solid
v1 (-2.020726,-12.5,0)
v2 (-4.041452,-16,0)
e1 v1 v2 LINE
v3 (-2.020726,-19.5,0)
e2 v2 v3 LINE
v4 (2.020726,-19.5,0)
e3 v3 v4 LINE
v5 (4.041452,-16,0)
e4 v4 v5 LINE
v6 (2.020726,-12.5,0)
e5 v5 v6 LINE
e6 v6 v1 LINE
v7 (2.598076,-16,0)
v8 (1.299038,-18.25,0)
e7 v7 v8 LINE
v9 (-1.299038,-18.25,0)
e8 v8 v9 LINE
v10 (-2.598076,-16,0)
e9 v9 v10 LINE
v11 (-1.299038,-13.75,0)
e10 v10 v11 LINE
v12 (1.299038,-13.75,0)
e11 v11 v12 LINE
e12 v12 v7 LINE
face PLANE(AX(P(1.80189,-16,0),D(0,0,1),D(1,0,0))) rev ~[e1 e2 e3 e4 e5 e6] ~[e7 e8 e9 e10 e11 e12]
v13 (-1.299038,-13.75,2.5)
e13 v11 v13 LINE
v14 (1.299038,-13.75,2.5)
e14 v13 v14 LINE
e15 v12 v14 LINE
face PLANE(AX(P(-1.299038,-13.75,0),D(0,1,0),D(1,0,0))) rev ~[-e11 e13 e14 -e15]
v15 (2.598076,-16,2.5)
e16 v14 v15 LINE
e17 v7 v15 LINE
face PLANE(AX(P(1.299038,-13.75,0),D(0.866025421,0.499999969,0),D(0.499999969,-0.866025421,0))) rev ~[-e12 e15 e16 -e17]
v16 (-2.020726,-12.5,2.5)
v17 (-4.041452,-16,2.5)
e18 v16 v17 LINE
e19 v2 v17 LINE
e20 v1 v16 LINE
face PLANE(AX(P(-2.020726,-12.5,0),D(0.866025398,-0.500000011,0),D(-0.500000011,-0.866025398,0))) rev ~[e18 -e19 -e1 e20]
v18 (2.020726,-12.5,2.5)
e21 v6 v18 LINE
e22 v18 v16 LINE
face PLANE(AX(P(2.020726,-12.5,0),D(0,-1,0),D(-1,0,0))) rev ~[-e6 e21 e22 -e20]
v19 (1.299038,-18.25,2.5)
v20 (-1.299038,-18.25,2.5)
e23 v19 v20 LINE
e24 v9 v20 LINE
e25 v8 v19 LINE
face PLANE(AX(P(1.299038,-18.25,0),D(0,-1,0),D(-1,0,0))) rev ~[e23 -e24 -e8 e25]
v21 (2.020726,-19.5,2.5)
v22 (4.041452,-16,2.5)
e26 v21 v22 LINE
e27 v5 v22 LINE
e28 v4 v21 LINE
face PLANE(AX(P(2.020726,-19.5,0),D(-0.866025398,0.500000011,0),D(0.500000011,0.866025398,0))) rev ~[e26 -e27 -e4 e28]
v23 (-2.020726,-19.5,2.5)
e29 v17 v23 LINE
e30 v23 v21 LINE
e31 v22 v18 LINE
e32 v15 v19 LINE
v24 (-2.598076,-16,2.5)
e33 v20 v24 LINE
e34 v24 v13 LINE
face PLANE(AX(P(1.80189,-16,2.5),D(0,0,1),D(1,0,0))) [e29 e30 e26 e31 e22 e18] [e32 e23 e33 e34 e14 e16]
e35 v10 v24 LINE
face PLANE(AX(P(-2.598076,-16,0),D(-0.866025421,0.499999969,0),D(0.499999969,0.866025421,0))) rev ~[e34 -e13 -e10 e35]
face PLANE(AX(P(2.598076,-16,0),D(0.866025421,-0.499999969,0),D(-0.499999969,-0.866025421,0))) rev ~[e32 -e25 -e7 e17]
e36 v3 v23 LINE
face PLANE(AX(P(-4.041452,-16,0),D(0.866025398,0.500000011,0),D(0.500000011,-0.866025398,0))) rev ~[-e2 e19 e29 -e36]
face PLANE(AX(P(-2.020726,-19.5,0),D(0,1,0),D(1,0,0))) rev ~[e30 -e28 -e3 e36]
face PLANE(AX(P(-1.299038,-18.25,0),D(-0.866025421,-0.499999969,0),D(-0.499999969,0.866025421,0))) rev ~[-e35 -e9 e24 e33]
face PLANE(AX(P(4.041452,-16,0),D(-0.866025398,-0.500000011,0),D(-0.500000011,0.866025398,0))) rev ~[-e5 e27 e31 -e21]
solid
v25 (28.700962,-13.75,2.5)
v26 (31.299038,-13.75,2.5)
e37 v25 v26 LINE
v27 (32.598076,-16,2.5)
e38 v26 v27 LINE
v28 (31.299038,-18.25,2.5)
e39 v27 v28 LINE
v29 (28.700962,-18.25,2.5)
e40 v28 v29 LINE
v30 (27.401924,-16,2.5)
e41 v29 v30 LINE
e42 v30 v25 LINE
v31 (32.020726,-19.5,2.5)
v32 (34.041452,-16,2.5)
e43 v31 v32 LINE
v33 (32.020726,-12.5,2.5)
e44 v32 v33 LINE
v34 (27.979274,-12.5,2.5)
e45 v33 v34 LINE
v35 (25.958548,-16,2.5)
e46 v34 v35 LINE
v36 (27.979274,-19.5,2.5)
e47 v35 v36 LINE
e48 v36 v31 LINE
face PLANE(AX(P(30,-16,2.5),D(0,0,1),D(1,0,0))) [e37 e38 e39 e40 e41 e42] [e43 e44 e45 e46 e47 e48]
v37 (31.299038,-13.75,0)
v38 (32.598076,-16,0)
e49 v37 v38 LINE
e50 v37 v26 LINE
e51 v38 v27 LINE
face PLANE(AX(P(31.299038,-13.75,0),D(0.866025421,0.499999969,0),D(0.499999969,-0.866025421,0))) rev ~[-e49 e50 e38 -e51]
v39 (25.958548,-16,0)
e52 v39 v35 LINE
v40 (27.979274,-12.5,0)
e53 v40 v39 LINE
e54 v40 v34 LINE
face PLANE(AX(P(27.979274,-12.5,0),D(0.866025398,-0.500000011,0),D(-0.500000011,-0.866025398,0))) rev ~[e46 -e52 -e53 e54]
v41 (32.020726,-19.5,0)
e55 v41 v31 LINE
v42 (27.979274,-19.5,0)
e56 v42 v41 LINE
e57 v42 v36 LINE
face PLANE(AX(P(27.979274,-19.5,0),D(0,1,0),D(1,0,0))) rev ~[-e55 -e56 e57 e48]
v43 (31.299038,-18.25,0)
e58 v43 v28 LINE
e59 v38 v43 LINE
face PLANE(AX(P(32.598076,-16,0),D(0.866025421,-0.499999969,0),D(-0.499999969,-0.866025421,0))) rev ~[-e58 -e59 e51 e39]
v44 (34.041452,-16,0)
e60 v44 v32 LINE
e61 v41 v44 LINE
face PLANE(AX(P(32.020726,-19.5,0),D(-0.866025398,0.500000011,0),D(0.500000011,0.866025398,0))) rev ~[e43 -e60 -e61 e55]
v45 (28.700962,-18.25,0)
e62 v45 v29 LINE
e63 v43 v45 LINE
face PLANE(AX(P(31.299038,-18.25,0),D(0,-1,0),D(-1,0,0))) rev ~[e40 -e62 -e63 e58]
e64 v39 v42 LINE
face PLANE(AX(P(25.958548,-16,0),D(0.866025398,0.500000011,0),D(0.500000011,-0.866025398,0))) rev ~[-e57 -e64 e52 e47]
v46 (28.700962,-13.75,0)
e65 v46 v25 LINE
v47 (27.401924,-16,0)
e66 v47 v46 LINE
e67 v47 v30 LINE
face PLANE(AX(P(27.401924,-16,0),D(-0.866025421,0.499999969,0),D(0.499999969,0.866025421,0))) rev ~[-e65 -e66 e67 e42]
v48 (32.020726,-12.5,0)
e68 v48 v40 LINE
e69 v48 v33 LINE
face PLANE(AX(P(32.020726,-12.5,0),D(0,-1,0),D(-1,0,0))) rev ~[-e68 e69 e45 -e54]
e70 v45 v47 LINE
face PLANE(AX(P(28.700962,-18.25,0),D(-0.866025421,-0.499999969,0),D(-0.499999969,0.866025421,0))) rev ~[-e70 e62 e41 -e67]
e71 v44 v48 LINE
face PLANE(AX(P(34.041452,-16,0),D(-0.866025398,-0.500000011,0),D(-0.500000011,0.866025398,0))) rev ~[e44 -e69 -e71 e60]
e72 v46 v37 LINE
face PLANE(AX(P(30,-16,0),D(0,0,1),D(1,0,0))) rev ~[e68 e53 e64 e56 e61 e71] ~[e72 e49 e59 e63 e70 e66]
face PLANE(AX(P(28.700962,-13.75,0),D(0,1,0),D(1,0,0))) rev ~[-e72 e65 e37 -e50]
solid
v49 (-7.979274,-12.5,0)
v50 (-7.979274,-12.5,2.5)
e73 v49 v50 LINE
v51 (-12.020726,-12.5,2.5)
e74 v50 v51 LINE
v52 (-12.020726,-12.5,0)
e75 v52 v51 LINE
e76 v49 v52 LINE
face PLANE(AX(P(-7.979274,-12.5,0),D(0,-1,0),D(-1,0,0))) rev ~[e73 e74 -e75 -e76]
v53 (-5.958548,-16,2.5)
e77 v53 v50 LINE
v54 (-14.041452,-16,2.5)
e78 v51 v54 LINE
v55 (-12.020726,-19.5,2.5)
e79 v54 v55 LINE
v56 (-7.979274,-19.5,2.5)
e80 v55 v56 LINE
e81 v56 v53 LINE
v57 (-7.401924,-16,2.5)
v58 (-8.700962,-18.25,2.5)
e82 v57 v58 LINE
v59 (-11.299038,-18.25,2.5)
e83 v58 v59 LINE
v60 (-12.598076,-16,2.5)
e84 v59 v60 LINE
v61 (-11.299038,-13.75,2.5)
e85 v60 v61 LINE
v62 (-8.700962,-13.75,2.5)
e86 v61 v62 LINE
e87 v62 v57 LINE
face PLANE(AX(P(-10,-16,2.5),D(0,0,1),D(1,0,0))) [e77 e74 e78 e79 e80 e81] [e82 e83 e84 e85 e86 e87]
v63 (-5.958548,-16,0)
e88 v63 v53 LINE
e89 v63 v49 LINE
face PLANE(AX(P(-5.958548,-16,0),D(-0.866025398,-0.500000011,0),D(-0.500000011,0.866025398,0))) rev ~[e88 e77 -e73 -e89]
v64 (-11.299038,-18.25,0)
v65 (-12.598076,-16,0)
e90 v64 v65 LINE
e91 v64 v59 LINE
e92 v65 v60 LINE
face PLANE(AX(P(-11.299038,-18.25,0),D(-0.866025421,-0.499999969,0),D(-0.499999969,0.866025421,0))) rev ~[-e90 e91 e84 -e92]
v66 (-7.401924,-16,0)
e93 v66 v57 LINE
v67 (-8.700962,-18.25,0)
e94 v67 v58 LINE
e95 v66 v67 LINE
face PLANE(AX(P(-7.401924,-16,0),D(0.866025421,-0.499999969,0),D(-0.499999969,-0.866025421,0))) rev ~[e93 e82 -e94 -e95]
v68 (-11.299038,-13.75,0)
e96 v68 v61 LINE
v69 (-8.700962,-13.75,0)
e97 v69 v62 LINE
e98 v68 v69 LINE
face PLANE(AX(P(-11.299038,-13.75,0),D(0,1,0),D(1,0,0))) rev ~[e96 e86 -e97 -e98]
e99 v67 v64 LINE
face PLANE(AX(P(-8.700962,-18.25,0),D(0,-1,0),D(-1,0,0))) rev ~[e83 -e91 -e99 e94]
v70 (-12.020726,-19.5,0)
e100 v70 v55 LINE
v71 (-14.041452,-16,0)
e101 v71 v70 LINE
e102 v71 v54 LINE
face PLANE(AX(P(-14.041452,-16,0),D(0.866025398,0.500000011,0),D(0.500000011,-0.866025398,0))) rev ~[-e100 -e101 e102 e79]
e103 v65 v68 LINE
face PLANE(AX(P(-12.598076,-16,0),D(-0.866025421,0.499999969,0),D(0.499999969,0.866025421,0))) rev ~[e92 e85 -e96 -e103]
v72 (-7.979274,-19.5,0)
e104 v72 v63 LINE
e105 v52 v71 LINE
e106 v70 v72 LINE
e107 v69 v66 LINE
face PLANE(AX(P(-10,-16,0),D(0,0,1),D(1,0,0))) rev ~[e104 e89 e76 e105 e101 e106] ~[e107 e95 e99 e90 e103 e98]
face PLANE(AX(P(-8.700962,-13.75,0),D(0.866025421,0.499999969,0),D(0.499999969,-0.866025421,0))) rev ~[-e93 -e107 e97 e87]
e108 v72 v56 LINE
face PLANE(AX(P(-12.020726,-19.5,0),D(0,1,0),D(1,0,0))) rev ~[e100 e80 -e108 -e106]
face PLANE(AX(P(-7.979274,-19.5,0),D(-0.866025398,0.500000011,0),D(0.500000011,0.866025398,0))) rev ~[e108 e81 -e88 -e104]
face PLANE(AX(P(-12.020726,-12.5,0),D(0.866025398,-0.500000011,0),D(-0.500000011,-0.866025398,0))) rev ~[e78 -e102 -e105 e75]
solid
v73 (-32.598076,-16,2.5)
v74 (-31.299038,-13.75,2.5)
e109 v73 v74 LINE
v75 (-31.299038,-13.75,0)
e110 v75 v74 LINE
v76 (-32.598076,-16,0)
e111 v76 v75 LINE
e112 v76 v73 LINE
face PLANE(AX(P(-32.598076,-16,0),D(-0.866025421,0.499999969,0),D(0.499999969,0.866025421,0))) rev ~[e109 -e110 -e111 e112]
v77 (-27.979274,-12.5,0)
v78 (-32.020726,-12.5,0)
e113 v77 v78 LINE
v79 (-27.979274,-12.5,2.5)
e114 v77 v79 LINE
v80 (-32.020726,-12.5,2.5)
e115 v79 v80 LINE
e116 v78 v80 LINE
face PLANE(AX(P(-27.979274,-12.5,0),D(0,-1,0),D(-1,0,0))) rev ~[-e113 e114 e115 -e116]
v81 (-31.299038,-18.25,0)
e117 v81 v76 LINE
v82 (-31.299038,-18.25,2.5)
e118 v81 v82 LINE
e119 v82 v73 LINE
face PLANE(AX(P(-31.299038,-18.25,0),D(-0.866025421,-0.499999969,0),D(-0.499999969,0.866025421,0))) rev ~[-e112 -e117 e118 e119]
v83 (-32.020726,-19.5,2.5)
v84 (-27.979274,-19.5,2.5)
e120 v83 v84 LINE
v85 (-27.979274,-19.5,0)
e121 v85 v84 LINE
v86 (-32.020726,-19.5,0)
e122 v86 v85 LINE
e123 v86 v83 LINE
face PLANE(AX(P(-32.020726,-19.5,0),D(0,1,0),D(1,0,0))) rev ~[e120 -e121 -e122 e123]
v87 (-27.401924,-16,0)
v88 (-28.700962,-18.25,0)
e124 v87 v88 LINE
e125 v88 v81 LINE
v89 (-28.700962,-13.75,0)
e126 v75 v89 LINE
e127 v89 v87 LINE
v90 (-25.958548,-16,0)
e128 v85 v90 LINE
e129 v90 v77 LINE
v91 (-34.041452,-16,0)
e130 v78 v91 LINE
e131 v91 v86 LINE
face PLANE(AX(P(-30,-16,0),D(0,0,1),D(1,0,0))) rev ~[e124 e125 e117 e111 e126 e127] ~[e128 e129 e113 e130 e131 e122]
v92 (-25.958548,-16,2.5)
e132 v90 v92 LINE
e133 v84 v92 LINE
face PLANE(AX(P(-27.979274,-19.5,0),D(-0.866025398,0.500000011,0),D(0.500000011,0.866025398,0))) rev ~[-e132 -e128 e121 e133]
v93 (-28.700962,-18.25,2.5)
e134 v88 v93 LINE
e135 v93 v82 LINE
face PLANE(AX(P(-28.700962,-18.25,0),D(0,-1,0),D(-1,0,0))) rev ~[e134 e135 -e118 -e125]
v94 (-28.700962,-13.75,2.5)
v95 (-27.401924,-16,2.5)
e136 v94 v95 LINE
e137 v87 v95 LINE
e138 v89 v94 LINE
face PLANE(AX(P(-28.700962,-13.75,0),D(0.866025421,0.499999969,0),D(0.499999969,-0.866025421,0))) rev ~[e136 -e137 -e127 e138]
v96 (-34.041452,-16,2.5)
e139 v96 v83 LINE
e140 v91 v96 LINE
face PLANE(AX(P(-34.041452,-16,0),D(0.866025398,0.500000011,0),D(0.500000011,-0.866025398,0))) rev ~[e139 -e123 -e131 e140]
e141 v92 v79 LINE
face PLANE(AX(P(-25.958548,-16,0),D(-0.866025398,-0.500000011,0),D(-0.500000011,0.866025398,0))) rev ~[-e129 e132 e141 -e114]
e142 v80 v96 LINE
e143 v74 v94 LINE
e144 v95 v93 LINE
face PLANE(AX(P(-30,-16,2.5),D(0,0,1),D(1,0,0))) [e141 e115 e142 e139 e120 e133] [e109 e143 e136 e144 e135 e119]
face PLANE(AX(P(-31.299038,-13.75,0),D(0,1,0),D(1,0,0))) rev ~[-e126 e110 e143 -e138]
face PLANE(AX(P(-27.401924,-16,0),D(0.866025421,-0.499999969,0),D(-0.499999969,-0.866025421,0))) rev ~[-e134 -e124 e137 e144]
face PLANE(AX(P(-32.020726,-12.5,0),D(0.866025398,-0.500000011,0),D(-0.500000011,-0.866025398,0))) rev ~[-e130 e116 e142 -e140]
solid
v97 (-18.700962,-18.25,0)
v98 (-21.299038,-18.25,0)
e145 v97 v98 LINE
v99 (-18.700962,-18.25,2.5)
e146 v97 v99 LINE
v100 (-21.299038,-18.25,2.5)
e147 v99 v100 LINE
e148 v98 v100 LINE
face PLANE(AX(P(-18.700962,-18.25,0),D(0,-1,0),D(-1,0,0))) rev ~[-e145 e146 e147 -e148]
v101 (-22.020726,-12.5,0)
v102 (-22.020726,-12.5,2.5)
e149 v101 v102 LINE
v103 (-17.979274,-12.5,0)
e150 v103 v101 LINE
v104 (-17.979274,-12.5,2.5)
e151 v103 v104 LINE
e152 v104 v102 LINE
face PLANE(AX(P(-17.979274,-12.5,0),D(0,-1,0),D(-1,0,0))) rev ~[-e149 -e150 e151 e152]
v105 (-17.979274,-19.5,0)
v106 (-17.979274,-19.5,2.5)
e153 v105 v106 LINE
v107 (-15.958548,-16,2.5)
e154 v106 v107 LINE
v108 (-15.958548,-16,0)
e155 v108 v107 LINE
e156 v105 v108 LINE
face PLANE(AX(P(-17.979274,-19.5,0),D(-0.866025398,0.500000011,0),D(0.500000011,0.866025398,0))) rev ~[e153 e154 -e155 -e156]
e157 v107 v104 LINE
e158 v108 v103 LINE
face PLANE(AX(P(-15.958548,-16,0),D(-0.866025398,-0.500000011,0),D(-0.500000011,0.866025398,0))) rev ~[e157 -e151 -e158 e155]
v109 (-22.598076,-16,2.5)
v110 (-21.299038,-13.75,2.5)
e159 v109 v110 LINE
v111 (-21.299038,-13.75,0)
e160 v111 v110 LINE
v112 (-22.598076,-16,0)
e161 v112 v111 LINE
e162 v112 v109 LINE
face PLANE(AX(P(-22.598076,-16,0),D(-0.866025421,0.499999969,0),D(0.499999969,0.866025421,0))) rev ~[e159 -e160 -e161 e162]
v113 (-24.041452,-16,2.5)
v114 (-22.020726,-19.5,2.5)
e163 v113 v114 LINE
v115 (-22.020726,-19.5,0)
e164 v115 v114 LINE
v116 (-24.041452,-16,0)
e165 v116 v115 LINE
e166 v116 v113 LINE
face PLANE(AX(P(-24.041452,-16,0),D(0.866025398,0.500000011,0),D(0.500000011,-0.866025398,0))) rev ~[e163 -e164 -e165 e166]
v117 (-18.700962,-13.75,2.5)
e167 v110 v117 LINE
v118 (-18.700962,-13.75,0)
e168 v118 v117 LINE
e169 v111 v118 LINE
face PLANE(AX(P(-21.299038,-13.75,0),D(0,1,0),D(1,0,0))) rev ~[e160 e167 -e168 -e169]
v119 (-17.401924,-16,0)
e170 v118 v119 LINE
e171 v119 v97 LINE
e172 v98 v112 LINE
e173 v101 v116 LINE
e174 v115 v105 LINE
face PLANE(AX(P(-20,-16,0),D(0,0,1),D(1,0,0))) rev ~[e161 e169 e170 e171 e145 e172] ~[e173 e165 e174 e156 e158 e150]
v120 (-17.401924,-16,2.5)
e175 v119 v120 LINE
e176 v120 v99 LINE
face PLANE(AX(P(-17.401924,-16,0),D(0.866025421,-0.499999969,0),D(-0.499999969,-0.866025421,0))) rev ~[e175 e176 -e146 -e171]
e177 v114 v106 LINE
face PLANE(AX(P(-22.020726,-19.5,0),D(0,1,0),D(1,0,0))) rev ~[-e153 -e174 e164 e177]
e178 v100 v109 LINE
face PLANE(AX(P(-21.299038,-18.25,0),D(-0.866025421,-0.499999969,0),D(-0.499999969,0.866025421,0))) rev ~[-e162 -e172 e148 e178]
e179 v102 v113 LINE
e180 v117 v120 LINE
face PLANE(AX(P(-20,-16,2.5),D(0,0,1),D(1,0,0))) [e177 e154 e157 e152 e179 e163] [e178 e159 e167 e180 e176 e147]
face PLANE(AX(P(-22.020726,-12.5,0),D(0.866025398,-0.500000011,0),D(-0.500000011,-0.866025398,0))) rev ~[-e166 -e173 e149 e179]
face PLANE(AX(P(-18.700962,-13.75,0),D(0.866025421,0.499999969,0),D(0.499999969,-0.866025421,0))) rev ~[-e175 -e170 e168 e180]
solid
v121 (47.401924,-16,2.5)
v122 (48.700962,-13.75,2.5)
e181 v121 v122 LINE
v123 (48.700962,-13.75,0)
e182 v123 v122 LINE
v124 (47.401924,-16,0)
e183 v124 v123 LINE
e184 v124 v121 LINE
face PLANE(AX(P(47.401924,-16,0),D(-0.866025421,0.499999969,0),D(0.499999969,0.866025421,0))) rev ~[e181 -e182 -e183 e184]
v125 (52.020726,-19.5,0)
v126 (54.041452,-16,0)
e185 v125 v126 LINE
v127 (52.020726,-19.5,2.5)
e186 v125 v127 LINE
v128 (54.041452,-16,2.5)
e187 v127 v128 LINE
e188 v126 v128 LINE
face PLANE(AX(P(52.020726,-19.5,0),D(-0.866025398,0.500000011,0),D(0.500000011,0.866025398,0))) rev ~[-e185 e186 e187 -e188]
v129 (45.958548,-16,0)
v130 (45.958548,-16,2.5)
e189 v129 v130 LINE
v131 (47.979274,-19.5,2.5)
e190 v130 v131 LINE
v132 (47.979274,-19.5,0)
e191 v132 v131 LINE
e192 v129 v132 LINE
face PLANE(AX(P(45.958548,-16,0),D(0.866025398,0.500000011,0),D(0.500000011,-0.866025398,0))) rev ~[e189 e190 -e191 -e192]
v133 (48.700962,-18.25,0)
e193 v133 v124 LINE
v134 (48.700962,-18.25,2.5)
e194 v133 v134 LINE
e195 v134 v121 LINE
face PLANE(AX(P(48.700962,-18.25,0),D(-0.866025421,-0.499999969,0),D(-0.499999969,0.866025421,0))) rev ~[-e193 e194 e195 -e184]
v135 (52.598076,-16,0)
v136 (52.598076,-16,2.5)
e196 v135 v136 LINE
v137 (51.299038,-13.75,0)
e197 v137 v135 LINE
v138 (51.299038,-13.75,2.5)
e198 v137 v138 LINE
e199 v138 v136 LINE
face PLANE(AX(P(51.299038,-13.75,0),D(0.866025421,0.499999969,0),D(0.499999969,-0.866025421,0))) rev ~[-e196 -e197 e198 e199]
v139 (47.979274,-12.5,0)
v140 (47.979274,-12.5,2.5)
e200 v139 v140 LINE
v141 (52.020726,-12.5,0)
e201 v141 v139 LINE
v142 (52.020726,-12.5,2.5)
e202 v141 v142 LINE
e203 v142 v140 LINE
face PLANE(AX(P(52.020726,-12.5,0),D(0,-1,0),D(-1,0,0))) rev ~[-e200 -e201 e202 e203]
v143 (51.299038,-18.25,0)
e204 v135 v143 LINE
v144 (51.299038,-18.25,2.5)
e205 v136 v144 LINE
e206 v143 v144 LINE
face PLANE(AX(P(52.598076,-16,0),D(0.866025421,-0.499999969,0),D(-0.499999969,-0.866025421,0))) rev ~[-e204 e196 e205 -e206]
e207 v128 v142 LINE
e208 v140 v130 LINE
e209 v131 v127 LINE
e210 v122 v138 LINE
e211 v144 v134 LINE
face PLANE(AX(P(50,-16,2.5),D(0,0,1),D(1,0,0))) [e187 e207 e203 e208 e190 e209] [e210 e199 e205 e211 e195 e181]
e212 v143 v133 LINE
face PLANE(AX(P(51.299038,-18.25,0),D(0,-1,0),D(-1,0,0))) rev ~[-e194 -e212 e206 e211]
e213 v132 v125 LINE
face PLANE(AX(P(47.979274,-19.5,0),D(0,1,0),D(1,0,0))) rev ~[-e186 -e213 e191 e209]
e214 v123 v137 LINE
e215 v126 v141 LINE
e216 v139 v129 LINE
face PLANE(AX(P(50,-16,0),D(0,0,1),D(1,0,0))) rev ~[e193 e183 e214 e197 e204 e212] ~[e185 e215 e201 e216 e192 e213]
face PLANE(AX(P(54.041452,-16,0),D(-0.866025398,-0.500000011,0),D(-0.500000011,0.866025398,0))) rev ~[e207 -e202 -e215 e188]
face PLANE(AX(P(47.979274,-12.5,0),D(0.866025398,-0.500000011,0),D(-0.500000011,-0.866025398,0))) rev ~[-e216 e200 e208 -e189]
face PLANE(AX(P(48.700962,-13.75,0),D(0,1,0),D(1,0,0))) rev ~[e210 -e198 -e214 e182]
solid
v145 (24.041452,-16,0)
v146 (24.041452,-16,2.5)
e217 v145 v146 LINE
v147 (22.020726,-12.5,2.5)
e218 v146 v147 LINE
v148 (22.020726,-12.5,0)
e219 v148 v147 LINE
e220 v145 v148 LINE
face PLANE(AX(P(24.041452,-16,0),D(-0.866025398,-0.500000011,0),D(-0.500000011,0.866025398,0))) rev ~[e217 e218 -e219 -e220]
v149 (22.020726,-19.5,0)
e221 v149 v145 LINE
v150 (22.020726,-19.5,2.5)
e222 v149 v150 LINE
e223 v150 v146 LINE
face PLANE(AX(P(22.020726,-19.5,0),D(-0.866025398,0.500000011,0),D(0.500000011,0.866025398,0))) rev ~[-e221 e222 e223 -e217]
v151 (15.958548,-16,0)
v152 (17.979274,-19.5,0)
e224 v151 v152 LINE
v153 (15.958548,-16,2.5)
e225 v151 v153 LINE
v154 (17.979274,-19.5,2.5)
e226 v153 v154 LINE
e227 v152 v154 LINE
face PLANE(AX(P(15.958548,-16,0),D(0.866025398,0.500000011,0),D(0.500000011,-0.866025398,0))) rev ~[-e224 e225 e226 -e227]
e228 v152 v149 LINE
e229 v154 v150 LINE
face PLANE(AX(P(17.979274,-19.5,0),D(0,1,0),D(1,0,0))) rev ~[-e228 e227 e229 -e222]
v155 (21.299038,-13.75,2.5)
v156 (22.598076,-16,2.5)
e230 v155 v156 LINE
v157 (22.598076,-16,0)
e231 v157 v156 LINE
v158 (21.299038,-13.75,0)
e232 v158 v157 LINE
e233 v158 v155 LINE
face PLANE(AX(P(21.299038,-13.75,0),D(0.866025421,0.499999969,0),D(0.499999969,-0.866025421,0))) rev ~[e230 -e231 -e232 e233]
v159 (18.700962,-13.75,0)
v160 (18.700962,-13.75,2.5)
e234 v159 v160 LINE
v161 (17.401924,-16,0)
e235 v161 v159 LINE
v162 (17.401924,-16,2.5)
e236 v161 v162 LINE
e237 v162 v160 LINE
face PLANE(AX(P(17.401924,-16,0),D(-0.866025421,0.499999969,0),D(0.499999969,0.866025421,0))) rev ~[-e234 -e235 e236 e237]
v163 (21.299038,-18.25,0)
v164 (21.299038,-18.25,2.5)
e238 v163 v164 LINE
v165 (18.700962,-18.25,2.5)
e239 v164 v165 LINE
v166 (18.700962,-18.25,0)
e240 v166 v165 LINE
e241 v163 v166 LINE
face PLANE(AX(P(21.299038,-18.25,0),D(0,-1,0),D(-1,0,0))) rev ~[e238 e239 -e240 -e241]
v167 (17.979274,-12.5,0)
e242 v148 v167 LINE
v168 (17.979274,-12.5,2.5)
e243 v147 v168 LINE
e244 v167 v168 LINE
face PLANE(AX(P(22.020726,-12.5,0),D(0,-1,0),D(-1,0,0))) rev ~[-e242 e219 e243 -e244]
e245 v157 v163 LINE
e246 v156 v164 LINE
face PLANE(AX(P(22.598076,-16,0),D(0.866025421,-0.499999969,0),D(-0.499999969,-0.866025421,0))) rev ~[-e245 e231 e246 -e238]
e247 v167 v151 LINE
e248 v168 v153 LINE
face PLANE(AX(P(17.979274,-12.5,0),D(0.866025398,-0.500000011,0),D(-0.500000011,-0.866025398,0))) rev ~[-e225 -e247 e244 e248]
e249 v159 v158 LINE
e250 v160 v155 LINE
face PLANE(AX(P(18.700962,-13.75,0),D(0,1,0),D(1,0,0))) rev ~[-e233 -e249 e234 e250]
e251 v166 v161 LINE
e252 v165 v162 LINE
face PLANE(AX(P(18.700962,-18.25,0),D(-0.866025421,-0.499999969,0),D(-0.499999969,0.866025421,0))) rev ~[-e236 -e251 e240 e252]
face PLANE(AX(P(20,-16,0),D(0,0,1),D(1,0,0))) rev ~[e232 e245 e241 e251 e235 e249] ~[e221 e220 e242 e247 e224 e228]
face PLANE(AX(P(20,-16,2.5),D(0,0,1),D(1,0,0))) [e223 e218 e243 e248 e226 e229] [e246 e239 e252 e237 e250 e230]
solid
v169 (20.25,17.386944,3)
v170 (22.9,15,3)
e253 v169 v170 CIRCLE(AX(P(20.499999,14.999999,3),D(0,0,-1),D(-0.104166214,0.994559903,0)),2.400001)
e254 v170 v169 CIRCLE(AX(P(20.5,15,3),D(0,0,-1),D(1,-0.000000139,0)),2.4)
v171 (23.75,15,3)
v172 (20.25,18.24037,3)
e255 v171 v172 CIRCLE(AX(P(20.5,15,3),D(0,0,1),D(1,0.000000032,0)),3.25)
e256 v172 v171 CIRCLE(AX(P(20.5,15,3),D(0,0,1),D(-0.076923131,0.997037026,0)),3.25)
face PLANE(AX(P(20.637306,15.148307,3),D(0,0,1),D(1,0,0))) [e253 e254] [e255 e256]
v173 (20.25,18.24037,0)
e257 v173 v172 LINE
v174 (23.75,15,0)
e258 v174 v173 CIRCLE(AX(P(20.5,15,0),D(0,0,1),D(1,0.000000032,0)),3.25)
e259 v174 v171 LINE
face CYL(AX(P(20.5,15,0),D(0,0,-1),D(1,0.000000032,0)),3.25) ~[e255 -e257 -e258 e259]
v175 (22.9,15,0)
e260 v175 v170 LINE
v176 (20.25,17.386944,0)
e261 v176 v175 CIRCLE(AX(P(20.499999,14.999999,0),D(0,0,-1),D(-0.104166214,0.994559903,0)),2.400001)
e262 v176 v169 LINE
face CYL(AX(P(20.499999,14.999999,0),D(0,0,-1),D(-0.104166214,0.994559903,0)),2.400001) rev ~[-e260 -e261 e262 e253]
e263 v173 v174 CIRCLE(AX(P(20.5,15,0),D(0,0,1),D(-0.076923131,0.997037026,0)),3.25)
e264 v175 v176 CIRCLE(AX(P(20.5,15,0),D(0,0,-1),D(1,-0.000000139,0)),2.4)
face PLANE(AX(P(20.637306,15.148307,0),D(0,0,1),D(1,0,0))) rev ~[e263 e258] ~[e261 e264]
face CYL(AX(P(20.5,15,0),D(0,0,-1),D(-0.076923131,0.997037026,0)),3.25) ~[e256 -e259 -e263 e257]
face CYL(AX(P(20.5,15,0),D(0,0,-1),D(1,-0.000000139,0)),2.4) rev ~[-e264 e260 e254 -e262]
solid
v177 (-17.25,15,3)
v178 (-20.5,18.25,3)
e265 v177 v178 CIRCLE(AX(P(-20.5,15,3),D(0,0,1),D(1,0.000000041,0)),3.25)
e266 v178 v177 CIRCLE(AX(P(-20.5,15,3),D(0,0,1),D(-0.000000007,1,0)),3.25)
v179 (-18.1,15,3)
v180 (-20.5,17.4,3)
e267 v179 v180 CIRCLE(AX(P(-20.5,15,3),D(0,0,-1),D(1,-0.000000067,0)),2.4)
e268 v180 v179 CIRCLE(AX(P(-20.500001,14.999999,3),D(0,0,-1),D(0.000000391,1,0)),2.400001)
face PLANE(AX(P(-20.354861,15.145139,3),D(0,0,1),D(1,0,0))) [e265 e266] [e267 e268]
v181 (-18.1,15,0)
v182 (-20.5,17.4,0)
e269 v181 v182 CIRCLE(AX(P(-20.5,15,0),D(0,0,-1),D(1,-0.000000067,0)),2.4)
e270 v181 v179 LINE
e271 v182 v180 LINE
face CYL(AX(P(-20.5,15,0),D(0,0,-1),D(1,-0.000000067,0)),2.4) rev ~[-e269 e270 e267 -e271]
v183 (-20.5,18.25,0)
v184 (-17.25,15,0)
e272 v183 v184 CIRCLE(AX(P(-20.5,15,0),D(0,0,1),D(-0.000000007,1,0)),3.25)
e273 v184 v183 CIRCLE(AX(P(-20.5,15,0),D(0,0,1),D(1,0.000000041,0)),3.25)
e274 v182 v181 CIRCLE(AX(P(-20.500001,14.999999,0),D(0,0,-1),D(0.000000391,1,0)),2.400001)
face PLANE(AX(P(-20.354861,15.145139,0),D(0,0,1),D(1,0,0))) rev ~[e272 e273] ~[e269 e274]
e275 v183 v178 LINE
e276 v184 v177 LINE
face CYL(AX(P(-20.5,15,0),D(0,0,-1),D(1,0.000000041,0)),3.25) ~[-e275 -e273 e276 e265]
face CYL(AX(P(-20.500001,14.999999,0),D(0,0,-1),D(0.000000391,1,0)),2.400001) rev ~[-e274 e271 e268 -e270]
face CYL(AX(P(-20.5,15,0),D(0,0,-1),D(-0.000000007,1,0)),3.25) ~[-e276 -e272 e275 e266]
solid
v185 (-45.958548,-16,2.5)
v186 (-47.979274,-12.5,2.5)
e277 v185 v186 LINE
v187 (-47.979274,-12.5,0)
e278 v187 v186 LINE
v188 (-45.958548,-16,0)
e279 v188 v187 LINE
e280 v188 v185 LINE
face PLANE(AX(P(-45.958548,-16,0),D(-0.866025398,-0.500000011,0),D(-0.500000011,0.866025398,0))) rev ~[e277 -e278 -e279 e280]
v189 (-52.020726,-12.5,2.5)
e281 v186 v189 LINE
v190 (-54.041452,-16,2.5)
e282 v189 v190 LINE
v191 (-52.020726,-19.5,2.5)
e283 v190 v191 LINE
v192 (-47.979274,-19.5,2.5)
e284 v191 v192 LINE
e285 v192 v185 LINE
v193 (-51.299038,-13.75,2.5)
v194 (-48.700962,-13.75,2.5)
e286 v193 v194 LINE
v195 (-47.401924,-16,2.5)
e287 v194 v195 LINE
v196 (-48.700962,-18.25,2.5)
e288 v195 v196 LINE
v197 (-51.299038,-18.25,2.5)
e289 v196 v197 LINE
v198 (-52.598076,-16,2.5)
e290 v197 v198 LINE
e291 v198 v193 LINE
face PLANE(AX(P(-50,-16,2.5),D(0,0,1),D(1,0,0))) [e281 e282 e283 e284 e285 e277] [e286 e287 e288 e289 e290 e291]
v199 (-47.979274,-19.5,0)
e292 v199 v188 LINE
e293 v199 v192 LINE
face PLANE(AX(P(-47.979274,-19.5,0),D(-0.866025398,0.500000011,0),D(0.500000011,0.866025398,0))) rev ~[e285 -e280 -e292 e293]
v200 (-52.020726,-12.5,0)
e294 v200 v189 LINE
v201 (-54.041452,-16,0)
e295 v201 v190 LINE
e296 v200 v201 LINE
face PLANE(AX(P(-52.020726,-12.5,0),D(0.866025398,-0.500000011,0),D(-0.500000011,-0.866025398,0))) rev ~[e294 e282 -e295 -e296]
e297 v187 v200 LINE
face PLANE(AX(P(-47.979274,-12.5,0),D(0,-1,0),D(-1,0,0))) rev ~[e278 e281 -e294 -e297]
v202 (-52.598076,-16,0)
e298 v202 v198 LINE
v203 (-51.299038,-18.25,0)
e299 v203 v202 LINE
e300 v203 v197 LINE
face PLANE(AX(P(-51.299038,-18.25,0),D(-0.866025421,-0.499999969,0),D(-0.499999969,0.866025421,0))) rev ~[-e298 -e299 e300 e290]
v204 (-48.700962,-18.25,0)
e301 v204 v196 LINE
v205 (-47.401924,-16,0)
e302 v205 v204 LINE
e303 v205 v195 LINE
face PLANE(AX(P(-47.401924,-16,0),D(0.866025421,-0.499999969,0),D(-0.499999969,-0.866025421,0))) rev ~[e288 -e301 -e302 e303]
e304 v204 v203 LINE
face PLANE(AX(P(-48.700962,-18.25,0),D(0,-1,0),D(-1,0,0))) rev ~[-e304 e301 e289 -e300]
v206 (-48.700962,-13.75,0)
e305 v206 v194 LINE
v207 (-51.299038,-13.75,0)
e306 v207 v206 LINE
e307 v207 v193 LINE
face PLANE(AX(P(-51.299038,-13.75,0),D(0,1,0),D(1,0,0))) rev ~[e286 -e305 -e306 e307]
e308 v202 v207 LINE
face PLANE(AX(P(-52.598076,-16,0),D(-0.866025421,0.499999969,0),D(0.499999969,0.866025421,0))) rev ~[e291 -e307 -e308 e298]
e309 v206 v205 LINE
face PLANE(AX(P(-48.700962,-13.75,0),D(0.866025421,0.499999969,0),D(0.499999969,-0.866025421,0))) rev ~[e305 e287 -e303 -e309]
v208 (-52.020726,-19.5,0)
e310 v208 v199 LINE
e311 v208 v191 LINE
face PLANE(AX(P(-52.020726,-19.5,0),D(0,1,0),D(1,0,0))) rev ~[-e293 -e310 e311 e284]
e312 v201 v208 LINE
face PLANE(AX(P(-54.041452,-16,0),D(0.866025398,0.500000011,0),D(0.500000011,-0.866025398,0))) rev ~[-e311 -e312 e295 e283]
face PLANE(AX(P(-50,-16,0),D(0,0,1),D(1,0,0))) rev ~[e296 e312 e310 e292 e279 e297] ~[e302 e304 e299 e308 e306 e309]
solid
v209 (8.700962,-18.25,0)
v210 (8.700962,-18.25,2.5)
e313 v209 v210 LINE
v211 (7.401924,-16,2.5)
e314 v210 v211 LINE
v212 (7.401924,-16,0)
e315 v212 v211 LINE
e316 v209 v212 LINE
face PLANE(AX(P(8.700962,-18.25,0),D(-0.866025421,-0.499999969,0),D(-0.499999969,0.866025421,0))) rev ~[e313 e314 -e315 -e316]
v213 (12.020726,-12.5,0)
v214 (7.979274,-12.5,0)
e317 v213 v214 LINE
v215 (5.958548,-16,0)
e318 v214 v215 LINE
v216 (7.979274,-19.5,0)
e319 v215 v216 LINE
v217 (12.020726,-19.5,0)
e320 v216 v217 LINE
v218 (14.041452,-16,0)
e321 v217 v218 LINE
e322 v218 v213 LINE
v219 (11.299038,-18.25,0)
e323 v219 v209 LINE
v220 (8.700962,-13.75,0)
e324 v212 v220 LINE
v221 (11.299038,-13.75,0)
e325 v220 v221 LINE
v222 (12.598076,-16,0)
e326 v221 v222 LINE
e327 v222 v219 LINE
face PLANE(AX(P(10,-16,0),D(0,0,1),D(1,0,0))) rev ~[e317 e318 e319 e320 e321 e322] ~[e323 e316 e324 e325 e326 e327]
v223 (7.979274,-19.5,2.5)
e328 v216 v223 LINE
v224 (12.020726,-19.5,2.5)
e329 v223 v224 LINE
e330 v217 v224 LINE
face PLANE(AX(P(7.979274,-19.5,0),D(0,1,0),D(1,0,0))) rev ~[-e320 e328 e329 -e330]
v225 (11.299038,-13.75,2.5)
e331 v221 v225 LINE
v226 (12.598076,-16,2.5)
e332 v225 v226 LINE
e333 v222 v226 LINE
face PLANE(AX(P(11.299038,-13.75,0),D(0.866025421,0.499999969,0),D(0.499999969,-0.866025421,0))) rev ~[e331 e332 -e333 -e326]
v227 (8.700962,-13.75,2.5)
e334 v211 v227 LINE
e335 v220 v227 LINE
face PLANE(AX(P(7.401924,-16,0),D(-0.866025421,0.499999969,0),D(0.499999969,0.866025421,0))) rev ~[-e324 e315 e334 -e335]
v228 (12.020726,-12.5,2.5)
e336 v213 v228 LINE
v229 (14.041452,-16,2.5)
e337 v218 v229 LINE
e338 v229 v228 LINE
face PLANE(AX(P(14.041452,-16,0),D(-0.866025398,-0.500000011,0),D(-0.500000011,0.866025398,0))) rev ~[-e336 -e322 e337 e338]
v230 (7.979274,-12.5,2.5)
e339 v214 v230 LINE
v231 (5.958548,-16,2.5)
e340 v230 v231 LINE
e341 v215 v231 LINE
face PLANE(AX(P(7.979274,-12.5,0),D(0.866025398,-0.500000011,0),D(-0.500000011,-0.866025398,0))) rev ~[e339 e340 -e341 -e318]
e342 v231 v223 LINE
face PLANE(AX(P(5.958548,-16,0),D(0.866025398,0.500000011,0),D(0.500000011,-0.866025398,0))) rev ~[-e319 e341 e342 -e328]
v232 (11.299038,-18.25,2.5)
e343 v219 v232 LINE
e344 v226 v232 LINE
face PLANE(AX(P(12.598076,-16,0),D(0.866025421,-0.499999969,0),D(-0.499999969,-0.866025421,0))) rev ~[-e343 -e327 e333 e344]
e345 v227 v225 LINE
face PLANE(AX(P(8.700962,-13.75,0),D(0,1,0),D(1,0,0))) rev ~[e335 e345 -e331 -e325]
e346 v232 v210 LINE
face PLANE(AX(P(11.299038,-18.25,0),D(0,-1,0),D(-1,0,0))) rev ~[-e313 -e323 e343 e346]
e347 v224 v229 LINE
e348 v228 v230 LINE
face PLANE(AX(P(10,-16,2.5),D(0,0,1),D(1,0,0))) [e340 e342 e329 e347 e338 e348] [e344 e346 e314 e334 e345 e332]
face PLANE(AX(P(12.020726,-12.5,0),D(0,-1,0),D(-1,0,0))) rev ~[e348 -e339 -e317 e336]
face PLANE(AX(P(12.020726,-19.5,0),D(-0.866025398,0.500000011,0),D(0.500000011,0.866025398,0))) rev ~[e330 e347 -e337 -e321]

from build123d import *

# Parameters (mm, degrees)
F1_DEPTH = 2.5
F2_DEPTH = 3


with BuildPart() as f1:
    # F0 (on Top) → F1 (new body)
    with BuildSketch(Plane.XY):
        Polygon((24.041452, -16), (22.020726, -12.5), (17.979274, -12.5), (15.958548, -16), (17.979274, -19.5), (22.020726, -19.5), align=None)
        Polygon((17.401924, -16), (18.700962, -13.75), (21.299038, -13.75), (22.598076, -16), (21.299038, -18.25), (18.700962, -18.25), align=None, mode=Mode.SUBTRACT)
        Polygon((12.020726, -12.5), (7.979274, -12.5), (5.958548, -16), (7.979274, -19.5), (12.020726, -19.5), (14.041452, -16), align=None)
        Polygon((7.401924, -16), (8.700962, -13.75), (11.299038, -13.75), (12.598076, -16), (11.299038, -18.25), (8.700962, -18.25), align=None, mode=Mode.SUBTRACT)
        Polygon((0, -18.25), (0, -19.5), (2.020726, -19.5), (4.041452, -16), (2.020726, -12.5), (0, -12.5), (0, -13.75), (1.299038, -13.75), (2.598076, -16), (1.299038, -18.25), align=None)
        Polygon((-2.020726, -19.5), (0, -19.5), (0, -18.25), (-1.299038, -18.25), (-2.598076, -16), (-1.299038, -13.75), (0, -13.75), (0, -12.5), (-2.020726, -12.5), (-4.041452, -16), align=None)
        Polygon((-5.958548, -16), (-7.979274, -12.5), (-12.020726, -12.5), (-14.041452, -16), (-12.020726, -19.5), (-7.979274, -19.5), align=None)
        Polygon((-12.598076, -16), (-11.299038, -13.75), (-8.700962, -13.75), (-7.401924, -16), (-8.700962, -18.25), (-11.299038, -18.25), align=None, mode=Mode.SUBTRACT)
        Polygon((-17.979274, -12.5), (-22.020726, -12.5), (-24.041452, -16), (-22.020726, -19.5), (-17.979274, -19.5), (-15.958548, -16), align=None)
        Polygon((-22.598076, -16), (-21.299038, -13.75), (-18.700962, -13.75), (-17.401924, -16), (-18.700962, -18.25), (-21.299038, -18.25), align=None, mode=Mode.SUBTRACT)
        Polygon((-27.979274, -12.5), (-32.020726, -12.5), (-34.041452, -16), (-32.020726, -19.5), (-27.979274, -19.5), (-25.958548, -16), align=None)
        Polygon((-32.598076, -16), (-31.299038, -13.75), (-28.700962, -13.75), (-27.401924, -16), (-28.700962, -18.25), (-31.299038, -18.25), align=None, mode=Mode.SUBTRACT)
        Polygon((-47.979274, -12.5), (-52.020726, -12.5), (-54.041452, -16), (-52.020726, -19.5), (-47.979274, -19.5), (-45.958548, -16), align=None)
        Polygon((-52.598076, -16), (-51.299038, -13.75), (-48.700962, -13.75), (-47.401924, -16), (-48.700962, -18.25), (-51.299038, -18.25), align=None, mode=Mode.SUBTRACT)
        Polygon((54.041452, -16), (52.020726, -12.5), (47.979274, -12.5), (45.958548, -16), (47.979274, -19.5), (52.020726, -19.5), align=None)
        Polygon((47.401924, -16), (48.700962, -13.75), (51.299038, -13.75), (52.598076, -16), (51.299038, -18.25), (48.700962, -18.25), align=None, mode=Mode.SUBTRACT)
        Polygon((34.041452, -16), (32.020726, -12.5), (27.979274, -12.5), (25.958548, -16), (27.979274, -19.5), (32.020726, -19.5), align=None)
        Polygon((27.401924, -16), (28.700962, -13.75), (31.299038, -13.75), (32.598076, -16), (31.299038, -18.25), (28.700962, -18.25), align=None, mode=Mode.SUBTRACT)
    extrude(amount=F1_DEPTH)


with BuildPart() as f2:
    # F0 (on Top) → F2 (new body)
    with BuildSketch(Plane.XY):
        with BuildLine():
            ThreePointArc((-17.25, 15), (-18.201903, 17.298097), (-20.5, 18.25))
            ThreePointArc((-20.5, 18.25), (-22.798097, 12.701903), (-17.25, 15))
        make_face()
        with BuildLine():
            ThreePointArc((-18.1, 15), (-22.197056, 13.302944), (-20.5, 17.4))
            ThreePointArc((-20.5, 17.4), (-18.802944, 16.697056), (-18.1, 15))
        make_face(mode=Mode.SUBTRACT)
        with BuildLine():
            ThreePointArc((23.75, 15), (22.70794, 17.384848), (20.25, 18.24037))
            ThreePointArc((20.25, 18.24037), (18.29206, 12.615152), (23.75, 15))
        make_face()
        with BuildLine():
            ThreePointArc((22.9, 15), (18.893762, 13.216745), (20.25, 17.386944))
            ThreePointArc((20.25, 17.386944), (22.106238, 16.783255), (22.9, 15))
        make_face(mode=Mode.SUBTRACT)
    extrude(amount=F2_DEPTH)


solid = Compound([f1.part, f2.part])
